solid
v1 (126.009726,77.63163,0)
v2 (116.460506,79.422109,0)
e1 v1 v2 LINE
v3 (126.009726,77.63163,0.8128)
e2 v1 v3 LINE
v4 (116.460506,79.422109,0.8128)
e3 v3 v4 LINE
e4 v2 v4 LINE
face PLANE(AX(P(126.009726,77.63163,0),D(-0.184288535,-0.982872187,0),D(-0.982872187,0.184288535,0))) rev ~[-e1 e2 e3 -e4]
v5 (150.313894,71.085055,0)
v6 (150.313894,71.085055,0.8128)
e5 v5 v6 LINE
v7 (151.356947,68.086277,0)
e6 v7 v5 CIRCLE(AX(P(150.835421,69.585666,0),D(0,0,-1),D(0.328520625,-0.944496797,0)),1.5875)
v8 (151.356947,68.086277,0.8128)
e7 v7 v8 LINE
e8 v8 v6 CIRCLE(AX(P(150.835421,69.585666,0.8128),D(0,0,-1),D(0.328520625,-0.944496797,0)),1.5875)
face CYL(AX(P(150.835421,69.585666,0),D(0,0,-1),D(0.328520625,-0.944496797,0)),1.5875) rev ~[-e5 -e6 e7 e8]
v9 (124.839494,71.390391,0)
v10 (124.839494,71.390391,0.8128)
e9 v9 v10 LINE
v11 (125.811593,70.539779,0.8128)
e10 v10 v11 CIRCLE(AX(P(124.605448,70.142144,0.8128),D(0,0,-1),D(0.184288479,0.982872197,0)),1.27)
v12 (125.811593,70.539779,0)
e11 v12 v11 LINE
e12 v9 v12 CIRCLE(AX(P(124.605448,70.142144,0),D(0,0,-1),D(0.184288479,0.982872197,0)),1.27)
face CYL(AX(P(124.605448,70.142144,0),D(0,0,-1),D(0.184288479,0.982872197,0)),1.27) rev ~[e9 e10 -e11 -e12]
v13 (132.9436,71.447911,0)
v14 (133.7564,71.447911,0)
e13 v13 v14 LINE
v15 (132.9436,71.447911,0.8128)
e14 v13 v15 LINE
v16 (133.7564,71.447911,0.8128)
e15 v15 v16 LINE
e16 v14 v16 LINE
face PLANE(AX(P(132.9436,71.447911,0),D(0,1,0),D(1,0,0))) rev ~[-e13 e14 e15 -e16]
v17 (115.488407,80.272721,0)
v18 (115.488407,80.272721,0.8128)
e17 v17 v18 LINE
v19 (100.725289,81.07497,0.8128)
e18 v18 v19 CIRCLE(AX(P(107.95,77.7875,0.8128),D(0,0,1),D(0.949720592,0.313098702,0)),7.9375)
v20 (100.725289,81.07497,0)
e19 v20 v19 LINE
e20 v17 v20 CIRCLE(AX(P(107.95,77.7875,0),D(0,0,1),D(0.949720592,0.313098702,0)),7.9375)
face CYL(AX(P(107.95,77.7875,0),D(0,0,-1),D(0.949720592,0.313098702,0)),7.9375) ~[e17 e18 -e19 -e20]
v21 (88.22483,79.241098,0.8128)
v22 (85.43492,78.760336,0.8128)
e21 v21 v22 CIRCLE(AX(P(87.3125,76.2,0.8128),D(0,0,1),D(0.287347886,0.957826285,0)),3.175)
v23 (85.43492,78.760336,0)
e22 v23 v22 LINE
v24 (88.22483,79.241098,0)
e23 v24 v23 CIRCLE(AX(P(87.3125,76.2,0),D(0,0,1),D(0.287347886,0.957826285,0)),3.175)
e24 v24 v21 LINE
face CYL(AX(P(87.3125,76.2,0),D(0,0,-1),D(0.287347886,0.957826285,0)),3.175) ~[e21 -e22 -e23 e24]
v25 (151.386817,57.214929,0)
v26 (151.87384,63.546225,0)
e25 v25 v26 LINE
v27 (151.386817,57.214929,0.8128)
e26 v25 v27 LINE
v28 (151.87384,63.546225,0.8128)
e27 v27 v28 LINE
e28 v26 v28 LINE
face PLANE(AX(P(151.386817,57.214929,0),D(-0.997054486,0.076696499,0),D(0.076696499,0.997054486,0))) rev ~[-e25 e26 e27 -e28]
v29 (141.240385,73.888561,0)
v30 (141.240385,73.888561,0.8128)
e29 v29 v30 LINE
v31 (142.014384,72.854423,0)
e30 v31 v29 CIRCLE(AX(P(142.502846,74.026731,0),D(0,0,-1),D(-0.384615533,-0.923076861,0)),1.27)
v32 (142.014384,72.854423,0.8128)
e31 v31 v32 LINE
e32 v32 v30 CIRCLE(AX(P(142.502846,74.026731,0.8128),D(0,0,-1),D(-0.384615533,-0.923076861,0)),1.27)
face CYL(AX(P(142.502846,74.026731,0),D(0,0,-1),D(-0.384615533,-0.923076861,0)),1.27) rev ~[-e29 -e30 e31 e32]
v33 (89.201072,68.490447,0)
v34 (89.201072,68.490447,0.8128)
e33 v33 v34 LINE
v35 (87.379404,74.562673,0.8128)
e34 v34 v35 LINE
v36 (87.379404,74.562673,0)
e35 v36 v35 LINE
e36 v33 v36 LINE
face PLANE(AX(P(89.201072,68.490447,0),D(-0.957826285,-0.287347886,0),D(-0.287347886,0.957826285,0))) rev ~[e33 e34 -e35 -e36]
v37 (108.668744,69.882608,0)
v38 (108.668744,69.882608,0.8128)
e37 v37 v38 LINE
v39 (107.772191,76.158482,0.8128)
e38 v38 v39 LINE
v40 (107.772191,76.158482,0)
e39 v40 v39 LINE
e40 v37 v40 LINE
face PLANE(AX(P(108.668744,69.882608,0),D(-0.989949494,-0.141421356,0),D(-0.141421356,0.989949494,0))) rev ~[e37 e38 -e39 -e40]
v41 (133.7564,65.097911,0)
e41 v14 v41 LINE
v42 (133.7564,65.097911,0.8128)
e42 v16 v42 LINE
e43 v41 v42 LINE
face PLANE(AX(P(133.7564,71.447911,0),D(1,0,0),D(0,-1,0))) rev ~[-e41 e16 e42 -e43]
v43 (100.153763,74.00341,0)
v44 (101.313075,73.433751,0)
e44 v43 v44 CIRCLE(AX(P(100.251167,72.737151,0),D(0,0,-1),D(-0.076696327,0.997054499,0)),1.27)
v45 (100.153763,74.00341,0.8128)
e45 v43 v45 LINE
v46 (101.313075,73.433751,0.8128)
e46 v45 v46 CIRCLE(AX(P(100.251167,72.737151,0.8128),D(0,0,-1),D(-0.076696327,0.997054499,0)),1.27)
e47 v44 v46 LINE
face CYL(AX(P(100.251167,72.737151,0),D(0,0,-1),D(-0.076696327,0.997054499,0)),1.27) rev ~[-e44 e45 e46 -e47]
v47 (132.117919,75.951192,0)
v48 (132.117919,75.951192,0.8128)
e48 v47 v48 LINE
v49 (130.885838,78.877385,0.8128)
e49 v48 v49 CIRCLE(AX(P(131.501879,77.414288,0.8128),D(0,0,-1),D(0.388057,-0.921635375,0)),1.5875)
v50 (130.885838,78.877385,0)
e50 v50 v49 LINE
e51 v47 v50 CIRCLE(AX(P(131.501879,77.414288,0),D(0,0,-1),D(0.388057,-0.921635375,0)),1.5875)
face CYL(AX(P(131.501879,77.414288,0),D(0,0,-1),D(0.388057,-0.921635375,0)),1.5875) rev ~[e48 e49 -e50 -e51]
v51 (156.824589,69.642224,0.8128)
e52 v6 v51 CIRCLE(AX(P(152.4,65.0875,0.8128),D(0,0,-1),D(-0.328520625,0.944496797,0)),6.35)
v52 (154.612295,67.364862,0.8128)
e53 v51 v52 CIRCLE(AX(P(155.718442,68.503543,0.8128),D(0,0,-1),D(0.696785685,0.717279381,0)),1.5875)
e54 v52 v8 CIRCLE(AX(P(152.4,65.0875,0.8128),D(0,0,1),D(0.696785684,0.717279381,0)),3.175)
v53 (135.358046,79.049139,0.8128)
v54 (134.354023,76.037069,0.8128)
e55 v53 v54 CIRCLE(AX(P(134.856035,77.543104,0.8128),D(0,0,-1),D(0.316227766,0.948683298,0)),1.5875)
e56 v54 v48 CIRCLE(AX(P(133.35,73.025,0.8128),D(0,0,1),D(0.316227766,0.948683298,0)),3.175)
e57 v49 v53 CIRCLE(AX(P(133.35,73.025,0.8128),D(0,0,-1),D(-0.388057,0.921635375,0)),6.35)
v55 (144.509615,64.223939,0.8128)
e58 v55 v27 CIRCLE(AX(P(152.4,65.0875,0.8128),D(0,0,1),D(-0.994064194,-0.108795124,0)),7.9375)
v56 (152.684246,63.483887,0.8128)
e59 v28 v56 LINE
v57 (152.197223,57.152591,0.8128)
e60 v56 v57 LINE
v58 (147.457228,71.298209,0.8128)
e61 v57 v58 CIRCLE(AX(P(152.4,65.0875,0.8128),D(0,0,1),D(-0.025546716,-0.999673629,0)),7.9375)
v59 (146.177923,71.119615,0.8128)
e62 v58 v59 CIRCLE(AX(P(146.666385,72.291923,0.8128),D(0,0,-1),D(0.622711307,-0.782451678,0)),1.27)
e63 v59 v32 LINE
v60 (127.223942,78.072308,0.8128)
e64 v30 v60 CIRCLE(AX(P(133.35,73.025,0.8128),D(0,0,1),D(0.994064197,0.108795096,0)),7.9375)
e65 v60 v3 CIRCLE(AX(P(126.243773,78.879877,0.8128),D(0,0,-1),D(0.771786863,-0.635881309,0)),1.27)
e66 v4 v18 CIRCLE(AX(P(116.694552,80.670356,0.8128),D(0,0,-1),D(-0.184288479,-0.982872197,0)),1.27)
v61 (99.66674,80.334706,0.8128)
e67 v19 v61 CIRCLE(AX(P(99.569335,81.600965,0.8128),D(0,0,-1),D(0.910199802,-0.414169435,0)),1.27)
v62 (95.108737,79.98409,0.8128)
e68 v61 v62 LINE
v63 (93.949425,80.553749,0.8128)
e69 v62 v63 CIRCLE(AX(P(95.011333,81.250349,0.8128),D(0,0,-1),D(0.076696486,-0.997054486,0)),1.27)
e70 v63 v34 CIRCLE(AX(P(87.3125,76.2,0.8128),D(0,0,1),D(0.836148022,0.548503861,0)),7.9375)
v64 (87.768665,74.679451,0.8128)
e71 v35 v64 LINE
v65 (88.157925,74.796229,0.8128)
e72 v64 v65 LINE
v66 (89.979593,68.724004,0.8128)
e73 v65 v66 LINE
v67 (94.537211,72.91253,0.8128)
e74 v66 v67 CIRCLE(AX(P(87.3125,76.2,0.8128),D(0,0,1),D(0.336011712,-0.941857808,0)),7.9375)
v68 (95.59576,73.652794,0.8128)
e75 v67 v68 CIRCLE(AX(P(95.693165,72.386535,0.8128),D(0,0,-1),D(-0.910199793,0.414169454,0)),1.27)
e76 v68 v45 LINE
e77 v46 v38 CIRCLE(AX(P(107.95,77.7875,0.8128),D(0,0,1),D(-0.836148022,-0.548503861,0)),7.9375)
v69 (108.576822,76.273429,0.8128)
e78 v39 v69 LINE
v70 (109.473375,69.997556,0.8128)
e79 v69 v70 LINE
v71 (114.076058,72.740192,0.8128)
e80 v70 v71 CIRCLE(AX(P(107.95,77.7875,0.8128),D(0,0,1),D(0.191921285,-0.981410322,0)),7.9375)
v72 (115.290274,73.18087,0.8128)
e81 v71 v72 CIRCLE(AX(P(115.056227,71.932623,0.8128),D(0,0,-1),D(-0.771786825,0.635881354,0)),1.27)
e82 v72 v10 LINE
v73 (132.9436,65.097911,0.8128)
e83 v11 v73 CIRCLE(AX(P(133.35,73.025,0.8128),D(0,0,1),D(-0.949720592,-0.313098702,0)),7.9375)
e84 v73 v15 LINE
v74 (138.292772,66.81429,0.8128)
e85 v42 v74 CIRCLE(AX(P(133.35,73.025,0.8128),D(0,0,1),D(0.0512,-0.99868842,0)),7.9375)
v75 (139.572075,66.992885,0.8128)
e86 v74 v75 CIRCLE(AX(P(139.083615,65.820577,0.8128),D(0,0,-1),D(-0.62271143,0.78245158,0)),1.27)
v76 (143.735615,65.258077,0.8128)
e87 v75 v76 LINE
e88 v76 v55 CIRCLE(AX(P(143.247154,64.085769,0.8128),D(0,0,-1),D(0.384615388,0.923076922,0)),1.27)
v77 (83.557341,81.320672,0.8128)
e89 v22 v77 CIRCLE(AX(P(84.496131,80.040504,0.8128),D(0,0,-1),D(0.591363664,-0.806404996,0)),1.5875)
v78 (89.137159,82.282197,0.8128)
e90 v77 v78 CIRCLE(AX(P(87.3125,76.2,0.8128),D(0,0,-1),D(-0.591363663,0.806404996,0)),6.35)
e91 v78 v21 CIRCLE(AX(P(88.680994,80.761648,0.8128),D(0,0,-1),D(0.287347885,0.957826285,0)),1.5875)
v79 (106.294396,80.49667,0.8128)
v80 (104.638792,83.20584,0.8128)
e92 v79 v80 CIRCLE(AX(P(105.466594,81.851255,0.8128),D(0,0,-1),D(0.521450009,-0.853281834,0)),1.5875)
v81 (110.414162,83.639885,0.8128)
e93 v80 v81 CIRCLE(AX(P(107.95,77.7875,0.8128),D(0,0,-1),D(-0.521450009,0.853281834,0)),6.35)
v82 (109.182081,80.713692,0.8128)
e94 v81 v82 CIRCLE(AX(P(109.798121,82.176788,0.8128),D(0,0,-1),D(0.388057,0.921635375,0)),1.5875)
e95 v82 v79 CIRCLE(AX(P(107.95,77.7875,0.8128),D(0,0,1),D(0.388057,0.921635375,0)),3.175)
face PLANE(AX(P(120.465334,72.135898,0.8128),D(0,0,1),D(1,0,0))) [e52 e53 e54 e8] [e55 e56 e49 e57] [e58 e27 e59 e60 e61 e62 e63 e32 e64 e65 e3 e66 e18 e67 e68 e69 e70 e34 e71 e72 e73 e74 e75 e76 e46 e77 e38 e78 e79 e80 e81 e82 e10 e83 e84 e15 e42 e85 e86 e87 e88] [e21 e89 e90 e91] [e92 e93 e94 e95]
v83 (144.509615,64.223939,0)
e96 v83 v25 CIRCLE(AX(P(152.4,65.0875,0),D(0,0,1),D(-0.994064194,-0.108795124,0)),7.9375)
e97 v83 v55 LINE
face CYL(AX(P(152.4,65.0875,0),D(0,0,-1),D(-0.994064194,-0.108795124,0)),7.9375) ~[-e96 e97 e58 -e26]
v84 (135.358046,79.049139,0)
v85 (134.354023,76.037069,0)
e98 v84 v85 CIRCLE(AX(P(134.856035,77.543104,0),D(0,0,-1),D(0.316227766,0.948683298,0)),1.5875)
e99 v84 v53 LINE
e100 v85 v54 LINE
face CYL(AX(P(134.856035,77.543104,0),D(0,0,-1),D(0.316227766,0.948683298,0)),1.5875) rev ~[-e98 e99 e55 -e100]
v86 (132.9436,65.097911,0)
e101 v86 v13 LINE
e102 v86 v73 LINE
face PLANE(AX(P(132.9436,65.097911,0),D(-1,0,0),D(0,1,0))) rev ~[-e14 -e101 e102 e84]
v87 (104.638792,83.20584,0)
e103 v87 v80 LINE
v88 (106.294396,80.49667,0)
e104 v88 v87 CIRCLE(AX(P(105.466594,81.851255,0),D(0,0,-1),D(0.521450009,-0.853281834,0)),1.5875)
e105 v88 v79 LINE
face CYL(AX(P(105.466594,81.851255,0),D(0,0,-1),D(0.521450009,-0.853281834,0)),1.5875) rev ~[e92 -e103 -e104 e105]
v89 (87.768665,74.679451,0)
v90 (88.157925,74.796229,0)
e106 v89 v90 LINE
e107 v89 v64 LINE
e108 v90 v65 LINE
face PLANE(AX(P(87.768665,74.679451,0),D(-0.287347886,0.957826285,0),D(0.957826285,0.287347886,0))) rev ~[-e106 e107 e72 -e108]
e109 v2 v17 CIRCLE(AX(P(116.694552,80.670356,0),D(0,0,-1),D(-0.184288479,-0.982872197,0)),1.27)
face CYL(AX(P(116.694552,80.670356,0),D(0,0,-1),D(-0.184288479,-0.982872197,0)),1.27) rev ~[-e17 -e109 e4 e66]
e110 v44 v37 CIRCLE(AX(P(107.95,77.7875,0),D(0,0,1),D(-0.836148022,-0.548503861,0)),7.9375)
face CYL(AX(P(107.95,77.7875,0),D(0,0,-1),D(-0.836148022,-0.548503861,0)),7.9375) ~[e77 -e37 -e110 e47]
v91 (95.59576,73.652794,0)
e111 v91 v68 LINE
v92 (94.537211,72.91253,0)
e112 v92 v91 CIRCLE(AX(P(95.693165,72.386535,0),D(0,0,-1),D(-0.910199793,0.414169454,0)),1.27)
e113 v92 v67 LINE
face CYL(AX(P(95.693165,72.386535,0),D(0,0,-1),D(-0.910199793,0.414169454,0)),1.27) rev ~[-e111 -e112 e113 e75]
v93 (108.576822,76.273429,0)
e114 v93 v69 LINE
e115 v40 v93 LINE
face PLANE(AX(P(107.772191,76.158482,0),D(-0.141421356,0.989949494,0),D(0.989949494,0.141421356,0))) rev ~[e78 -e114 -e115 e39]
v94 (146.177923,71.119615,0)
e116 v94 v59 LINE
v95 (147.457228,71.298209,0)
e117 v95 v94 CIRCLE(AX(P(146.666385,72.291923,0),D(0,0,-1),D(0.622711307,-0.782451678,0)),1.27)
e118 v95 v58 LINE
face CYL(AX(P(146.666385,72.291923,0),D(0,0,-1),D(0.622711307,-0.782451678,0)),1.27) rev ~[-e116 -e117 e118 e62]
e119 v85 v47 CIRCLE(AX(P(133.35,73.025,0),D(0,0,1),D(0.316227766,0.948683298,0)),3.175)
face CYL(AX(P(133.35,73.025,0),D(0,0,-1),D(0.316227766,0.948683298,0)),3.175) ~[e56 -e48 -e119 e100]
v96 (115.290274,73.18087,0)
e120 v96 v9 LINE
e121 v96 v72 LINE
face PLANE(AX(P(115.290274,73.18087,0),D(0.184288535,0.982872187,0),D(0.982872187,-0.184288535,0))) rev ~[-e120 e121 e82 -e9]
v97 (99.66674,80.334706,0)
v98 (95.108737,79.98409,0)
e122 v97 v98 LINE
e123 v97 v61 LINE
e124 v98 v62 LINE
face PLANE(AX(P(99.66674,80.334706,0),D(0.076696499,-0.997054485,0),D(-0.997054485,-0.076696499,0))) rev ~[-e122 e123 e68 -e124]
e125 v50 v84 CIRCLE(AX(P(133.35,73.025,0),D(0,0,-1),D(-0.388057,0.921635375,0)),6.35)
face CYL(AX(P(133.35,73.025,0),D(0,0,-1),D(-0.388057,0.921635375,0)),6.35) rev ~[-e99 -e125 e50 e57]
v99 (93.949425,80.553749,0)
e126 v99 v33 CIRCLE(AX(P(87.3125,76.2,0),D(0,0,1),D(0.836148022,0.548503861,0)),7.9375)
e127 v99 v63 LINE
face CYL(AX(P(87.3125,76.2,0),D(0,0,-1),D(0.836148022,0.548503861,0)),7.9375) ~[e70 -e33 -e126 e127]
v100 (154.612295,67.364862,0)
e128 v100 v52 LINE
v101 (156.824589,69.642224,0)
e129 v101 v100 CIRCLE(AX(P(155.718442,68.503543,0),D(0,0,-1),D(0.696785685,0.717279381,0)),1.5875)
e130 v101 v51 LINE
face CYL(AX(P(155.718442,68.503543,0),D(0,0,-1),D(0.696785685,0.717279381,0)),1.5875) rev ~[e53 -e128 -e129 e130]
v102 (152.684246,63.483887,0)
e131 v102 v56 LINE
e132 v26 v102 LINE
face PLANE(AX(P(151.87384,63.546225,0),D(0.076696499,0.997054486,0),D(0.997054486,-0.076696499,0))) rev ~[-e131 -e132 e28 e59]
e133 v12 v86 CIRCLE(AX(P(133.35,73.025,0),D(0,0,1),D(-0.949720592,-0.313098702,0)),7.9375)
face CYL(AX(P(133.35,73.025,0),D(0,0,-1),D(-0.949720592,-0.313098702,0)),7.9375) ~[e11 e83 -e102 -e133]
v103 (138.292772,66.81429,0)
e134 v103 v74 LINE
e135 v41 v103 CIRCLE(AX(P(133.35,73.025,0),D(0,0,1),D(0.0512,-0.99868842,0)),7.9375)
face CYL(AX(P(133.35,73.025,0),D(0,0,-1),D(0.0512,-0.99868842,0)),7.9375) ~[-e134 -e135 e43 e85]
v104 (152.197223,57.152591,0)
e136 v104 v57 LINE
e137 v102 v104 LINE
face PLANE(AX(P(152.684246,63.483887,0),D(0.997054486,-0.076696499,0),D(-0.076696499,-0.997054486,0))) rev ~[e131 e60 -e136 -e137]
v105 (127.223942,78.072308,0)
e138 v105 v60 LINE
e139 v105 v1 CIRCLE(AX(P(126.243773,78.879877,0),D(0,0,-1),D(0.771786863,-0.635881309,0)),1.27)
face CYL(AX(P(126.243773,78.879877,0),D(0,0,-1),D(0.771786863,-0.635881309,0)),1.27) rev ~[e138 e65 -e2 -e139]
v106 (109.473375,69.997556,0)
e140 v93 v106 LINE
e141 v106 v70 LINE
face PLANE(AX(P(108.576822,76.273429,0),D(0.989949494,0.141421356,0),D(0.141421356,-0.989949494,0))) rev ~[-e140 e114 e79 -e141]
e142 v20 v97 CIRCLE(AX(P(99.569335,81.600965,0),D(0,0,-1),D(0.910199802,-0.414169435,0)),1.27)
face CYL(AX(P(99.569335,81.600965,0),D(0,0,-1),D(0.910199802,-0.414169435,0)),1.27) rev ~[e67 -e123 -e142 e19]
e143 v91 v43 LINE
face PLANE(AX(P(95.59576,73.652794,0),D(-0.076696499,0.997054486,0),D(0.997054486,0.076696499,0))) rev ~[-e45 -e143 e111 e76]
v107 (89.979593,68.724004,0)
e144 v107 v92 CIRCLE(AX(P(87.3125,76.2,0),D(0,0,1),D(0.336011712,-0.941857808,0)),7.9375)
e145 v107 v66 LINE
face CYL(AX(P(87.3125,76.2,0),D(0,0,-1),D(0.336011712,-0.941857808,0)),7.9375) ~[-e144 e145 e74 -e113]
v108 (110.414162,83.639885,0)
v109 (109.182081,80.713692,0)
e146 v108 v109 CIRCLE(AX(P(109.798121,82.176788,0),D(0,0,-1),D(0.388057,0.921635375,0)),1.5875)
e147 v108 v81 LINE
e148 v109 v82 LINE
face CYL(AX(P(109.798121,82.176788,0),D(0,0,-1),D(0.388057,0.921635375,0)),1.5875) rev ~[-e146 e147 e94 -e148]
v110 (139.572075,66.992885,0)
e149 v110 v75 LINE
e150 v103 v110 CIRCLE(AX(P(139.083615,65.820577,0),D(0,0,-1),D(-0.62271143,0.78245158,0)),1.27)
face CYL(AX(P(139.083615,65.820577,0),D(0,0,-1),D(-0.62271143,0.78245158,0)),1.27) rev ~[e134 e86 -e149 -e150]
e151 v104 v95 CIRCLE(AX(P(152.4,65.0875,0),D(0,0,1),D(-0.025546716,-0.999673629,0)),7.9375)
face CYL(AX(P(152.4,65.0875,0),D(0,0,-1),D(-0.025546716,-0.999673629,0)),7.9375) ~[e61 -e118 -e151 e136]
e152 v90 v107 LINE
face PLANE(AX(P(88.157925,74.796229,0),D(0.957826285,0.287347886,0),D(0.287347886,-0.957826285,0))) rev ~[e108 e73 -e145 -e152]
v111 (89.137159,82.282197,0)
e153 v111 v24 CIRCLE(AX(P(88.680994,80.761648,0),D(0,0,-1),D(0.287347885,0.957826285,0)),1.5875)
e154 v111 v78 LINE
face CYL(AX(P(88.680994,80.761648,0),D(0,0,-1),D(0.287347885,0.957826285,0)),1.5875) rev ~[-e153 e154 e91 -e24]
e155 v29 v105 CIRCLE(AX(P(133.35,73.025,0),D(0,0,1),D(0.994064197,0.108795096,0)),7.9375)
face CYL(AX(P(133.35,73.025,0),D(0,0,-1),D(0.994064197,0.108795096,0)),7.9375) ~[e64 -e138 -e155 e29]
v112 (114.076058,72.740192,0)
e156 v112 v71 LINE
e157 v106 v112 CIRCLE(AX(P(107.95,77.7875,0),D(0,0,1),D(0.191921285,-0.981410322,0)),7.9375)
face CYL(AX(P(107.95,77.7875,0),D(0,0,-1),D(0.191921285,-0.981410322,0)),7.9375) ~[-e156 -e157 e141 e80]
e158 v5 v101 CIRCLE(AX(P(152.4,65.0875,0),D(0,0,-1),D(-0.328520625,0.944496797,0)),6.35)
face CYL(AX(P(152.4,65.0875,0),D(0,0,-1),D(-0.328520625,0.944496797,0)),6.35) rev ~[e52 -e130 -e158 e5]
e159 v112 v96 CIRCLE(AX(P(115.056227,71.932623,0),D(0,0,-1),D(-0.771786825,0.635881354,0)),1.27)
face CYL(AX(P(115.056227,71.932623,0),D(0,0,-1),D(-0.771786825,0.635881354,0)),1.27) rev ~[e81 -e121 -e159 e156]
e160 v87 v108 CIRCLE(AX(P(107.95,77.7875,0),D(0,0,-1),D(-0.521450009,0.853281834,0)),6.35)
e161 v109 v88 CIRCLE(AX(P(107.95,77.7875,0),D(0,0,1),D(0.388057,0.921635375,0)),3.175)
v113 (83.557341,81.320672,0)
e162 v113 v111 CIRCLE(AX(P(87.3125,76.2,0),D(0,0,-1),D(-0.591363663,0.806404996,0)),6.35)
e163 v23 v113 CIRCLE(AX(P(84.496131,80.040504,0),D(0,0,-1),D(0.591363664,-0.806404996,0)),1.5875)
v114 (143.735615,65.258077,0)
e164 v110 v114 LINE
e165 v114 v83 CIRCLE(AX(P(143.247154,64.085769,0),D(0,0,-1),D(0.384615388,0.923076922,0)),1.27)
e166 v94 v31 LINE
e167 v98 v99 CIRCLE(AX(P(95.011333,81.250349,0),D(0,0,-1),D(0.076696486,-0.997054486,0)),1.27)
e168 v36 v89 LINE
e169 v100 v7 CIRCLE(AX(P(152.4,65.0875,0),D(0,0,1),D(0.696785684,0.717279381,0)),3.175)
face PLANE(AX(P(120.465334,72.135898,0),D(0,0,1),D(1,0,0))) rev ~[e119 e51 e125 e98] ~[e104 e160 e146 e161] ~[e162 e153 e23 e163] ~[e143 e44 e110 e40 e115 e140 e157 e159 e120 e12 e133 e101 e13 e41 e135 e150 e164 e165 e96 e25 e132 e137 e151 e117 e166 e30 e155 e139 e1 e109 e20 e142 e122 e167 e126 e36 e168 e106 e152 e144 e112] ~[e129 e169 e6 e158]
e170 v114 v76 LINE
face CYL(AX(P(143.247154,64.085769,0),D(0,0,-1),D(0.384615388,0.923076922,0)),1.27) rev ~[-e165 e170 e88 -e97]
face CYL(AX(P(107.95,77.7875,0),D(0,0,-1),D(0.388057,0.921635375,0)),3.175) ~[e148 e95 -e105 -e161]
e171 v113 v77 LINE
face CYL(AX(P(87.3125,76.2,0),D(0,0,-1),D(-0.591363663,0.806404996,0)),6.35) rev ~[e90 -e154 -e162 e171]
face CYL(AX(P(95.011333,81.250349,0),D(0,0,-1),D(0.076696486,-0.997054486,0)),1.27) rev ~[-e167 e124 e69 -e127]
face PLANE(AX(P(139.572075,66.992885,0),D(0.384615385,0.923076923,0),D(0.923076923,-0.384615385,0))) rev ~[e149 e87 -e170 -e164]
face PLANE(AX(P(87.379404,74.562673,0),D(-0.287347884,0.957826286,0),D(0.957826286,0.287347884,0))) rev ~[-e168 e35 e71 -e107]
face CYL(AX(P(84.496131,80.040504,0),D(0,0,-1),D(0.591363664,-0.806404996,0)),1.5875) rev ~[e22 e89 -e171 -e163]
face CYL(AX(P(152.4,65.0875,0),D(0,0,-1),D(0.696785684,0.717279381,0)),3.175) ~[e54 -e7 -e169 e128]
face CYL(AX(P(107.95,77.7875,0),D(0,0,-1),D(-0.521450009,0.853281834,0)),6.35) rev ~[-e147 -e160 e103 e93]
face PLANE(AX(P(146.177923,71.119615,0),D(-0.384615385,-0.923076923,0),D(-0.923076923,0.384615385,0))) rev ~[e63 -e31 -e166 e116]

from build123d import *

# Parameters (mm, degrees)
BOSS_EXTRUDE1_DEPTH = 0.8128


with BuildPart() as part:
    # Sketch4 → Boss-Extrude1 (new body)
    with BuildSketch(Plane.XY):
        with BuildLine():
            ThreePointArc((93.949424924, 80.553749396), (79.926578404, 79.107244128), (89.201071756, 68.490447291))
            Line((89.201071756, 68.490447291), (87.379404166, 74.562672592))
            Line((87.379404166, 74.562672592), (87.768664768, 74.679450772))
            Line((87.768664768, 74.679450772), (88.157925371, 74.796228953))
            Line((88.157925371, 74.796228953), (89.979592961, 68.724003652))
            ThreePointArc((89.979592961, 68.724003652), (92.683522719, 70.35568471), (94.537210983, 72.912530234))
            ThreePointArc((94.537210983, 72.912530234), (94.965343033, 73.427292247), (95.595760228, 73.652794227))
            Line((95.595760228, 73.652794227), (100.153762821, 74.003409811))
            ThreePointArc((100.153762821, 74.003409811), (100.811251698, 73.876977473), (101.313075076, 73.433750604))
            ThreePointArc((101.313075076, 73.433750604), (104.499077144, 70.639420699), (108.66874425, 69.88260829))
            Line((108.66874425, 69.88260829), (107.772190929, 76.15848154))
            Line((107.772190929, 76.15848154), (108.174506403, 76.215955179))
            Line((108.174506403, 76.215955179), (108.576821877, 76.273428818))
            Line((108.576821877, 76.273428818), (109.473375199, 69.997555568))
            ThreePointArc((109.473375199, 69.997555568), (112.013123253, 70.968780496), (114.076058013, 72.740191859))
            ThreePointArc((114.076058013, 72.740191859), (114.622955908, 73.126429859), (115.290273938, 73.180870175))
            Line((115.290273938, 73.180870175), (124.839494012, 71.390391411))
            ThreePointArc((124.839494012, 71.390391411), (125.441762928, 71.097903494), (125.811592802, 70.539779051))
            ThreePointArc((125.811592802, 70.539779051), (128.535078066, 66.714656664), (132.9436, 65.097910667))
            Line((132.9436, 65.097910667), (132.9436, 71.447910667))
            Line((132.9436, 71.447910667), (133.35, 71.447910667))
            Line((133.35, 71.447910667), (133.7564, 71.447910667))
            Line((133.7564, 71.447910667), (133.7564, 65.097910667))
            ThreePointArc((133.7564, 65.097910667), (136.15889652, 65.601119169), (138.292771811, 66.814290453))
            ThreePointArc((138.292771811, 66.814290453), (138.908022168, 67.078379412), (139.572075423, 66.99288524))
            Line((139.572075423, 66.99288524), (143.735615445, 65.258076898))
            ThreePointArc((143.735615445, 65.258076898), (144.263910207, 64.846759758), (144.509615464, 64.223938699))
            ThreePointArc((144.509615464, 64.223938699), (146.734319899, 59.528365603), (151.386817059, 57.214929481))
            Line((151.386817059, 57.214929481), (151.873839827, 63.546225464))
            Line((151.873839827, 63.546225464), (152.27904277, 63.515056007))
            Line((152.27904277, 63.515056007), (152.684245713, 63.48388655))
            Line((152.684245713, 63.48388655), (152.197222945, 57.152590567))
            ThreePointArc((152.197222945, 57.152590567), (159.92620767, 67.609424733), (147.457228033, 71.298209423))
            ThreePointArc((147.457228033, 71.298209423), (146.84197711, 71.034120487), (146.177923414, 71.119615244))
            Line((146.177923414, 71.119615244), (142.014384371, 72.854423179))
            ThreePointArc((142.014384371, 72.854423179), (141.486089803, 73.265740229), (141.240384561, 73.888561071))
            ThreePointArc((141.240384561, 73.888561071), (135.620274674, 80.630902915), (127.223942036, 78.0723082))
            ThreePointArc((127.223942036, 78.0723082), (126.677044199, 77.68607018), (126.009726211, 77.631629797))
            Line((126.009726211, 77.631629797), (116.460505988, 79.422108589))
            ThreePointArc((116.460505988, 79.422108589), (115.858237072, 79.714596506), (115.488407198, 80.272720949))
            ThreePointArc((115.488407198, 80.272720949), (108.380699585, 85.713306212), (100.725289029, 81.074969792))
            ThreePointArc((100.725289029, 81.074969792), (100.297156978, 80.560207761), (99.666739772, 80.334705773))
            Line((99.666739772, 80.334705773), (95.108737382, 79.984090204))
            ThreePointArc((95.108737382, 79.984090204), (94.451248393, 80.110522482), (93.949424924, 80.553749396))
        make_face()
        with BuildLine():
            ThreePointArc((156.824589095, 69.642224068), (156.857122838, 67.397395778), (154.612294548, 67.364862034))
            ThreePointArc((154.612294548, 67.364862034), (153.086943568, 68.187295725), (151.356947016, 68.08627733))
            ThreePointArc((151.356947016, 68.08627733), (149.336031859, 69.064139502), (150.313894032, 71.085054659))
            ThreePointArc((150.313894032, 71.085054659), (153.773887136, 71.287091449), (156.824589095, 69.642224068))
        make_face(mode=Mode.SUBTRACT)
        with BuildLine():
            ThreePointArc((88.224829537, 79.241098456), (86.773324607, 79.32888397), (85.434920368, 78.760335862))
            ThreePointArc((85.434920368, 78.760335862), (83.215962621, 79.101713977), (83.557340736, 81.320671724))
            ThreePointArc((83.557340736, 81.320671724), (86.234149214, 82.457767939), (89.137159073, 82.282196911))
            ThreePointArc((89.137159073, 82.282196911), (90.201543533, 80.305482915), (88.224829537, 79.241098456))
        make_face(mode=Mode.SUBTRACT)
        with BuildLine():
            ThreePointArc((106.29439622, 80.496669822), (104.112009419, 81.023452843), (104.63879244, 83.205839644))
            ThreePointArc((104.63879244, 83.205839644), (107.474111012, 84.119642581), (110.41416195, 83.639884632))
            ThreePointArc((110.41416195, 83.639884632), (111.261217621, 81.560747987), (109.182080975, 80.713692316))
            ThreePointArc((109.182080975, 80.713692316), (107.712055506, 80.953571291), (106.29439622, 80.496669822))
        make_face(mode=Mode.SUBTRACT)
        with BuildLine():
            ThreePointArc((132.117919025, 75.951192316), (130.038782379, 76.798247987), (130.88583805, 78.877384632))
            ThreePointArc((130.88583805, 78.877384632), (133.106309101, 79.370322273), (135.358046314, 79.049138943))
            ThreePointArc((135.358046314, 79.049138943), (136.362069471, 77.041092628), (134.354023157, 76.037069471))
            ThreePointArc((134.354023157, 76.037069471), (133.228154551, 76.197661136), (132.117919025, 75.951192316))
        make_face(mode=Mode.SUBTRACT)
    extrude(amount=BOSS_EXTRUDE1_DEPTH)


solid = part.part
